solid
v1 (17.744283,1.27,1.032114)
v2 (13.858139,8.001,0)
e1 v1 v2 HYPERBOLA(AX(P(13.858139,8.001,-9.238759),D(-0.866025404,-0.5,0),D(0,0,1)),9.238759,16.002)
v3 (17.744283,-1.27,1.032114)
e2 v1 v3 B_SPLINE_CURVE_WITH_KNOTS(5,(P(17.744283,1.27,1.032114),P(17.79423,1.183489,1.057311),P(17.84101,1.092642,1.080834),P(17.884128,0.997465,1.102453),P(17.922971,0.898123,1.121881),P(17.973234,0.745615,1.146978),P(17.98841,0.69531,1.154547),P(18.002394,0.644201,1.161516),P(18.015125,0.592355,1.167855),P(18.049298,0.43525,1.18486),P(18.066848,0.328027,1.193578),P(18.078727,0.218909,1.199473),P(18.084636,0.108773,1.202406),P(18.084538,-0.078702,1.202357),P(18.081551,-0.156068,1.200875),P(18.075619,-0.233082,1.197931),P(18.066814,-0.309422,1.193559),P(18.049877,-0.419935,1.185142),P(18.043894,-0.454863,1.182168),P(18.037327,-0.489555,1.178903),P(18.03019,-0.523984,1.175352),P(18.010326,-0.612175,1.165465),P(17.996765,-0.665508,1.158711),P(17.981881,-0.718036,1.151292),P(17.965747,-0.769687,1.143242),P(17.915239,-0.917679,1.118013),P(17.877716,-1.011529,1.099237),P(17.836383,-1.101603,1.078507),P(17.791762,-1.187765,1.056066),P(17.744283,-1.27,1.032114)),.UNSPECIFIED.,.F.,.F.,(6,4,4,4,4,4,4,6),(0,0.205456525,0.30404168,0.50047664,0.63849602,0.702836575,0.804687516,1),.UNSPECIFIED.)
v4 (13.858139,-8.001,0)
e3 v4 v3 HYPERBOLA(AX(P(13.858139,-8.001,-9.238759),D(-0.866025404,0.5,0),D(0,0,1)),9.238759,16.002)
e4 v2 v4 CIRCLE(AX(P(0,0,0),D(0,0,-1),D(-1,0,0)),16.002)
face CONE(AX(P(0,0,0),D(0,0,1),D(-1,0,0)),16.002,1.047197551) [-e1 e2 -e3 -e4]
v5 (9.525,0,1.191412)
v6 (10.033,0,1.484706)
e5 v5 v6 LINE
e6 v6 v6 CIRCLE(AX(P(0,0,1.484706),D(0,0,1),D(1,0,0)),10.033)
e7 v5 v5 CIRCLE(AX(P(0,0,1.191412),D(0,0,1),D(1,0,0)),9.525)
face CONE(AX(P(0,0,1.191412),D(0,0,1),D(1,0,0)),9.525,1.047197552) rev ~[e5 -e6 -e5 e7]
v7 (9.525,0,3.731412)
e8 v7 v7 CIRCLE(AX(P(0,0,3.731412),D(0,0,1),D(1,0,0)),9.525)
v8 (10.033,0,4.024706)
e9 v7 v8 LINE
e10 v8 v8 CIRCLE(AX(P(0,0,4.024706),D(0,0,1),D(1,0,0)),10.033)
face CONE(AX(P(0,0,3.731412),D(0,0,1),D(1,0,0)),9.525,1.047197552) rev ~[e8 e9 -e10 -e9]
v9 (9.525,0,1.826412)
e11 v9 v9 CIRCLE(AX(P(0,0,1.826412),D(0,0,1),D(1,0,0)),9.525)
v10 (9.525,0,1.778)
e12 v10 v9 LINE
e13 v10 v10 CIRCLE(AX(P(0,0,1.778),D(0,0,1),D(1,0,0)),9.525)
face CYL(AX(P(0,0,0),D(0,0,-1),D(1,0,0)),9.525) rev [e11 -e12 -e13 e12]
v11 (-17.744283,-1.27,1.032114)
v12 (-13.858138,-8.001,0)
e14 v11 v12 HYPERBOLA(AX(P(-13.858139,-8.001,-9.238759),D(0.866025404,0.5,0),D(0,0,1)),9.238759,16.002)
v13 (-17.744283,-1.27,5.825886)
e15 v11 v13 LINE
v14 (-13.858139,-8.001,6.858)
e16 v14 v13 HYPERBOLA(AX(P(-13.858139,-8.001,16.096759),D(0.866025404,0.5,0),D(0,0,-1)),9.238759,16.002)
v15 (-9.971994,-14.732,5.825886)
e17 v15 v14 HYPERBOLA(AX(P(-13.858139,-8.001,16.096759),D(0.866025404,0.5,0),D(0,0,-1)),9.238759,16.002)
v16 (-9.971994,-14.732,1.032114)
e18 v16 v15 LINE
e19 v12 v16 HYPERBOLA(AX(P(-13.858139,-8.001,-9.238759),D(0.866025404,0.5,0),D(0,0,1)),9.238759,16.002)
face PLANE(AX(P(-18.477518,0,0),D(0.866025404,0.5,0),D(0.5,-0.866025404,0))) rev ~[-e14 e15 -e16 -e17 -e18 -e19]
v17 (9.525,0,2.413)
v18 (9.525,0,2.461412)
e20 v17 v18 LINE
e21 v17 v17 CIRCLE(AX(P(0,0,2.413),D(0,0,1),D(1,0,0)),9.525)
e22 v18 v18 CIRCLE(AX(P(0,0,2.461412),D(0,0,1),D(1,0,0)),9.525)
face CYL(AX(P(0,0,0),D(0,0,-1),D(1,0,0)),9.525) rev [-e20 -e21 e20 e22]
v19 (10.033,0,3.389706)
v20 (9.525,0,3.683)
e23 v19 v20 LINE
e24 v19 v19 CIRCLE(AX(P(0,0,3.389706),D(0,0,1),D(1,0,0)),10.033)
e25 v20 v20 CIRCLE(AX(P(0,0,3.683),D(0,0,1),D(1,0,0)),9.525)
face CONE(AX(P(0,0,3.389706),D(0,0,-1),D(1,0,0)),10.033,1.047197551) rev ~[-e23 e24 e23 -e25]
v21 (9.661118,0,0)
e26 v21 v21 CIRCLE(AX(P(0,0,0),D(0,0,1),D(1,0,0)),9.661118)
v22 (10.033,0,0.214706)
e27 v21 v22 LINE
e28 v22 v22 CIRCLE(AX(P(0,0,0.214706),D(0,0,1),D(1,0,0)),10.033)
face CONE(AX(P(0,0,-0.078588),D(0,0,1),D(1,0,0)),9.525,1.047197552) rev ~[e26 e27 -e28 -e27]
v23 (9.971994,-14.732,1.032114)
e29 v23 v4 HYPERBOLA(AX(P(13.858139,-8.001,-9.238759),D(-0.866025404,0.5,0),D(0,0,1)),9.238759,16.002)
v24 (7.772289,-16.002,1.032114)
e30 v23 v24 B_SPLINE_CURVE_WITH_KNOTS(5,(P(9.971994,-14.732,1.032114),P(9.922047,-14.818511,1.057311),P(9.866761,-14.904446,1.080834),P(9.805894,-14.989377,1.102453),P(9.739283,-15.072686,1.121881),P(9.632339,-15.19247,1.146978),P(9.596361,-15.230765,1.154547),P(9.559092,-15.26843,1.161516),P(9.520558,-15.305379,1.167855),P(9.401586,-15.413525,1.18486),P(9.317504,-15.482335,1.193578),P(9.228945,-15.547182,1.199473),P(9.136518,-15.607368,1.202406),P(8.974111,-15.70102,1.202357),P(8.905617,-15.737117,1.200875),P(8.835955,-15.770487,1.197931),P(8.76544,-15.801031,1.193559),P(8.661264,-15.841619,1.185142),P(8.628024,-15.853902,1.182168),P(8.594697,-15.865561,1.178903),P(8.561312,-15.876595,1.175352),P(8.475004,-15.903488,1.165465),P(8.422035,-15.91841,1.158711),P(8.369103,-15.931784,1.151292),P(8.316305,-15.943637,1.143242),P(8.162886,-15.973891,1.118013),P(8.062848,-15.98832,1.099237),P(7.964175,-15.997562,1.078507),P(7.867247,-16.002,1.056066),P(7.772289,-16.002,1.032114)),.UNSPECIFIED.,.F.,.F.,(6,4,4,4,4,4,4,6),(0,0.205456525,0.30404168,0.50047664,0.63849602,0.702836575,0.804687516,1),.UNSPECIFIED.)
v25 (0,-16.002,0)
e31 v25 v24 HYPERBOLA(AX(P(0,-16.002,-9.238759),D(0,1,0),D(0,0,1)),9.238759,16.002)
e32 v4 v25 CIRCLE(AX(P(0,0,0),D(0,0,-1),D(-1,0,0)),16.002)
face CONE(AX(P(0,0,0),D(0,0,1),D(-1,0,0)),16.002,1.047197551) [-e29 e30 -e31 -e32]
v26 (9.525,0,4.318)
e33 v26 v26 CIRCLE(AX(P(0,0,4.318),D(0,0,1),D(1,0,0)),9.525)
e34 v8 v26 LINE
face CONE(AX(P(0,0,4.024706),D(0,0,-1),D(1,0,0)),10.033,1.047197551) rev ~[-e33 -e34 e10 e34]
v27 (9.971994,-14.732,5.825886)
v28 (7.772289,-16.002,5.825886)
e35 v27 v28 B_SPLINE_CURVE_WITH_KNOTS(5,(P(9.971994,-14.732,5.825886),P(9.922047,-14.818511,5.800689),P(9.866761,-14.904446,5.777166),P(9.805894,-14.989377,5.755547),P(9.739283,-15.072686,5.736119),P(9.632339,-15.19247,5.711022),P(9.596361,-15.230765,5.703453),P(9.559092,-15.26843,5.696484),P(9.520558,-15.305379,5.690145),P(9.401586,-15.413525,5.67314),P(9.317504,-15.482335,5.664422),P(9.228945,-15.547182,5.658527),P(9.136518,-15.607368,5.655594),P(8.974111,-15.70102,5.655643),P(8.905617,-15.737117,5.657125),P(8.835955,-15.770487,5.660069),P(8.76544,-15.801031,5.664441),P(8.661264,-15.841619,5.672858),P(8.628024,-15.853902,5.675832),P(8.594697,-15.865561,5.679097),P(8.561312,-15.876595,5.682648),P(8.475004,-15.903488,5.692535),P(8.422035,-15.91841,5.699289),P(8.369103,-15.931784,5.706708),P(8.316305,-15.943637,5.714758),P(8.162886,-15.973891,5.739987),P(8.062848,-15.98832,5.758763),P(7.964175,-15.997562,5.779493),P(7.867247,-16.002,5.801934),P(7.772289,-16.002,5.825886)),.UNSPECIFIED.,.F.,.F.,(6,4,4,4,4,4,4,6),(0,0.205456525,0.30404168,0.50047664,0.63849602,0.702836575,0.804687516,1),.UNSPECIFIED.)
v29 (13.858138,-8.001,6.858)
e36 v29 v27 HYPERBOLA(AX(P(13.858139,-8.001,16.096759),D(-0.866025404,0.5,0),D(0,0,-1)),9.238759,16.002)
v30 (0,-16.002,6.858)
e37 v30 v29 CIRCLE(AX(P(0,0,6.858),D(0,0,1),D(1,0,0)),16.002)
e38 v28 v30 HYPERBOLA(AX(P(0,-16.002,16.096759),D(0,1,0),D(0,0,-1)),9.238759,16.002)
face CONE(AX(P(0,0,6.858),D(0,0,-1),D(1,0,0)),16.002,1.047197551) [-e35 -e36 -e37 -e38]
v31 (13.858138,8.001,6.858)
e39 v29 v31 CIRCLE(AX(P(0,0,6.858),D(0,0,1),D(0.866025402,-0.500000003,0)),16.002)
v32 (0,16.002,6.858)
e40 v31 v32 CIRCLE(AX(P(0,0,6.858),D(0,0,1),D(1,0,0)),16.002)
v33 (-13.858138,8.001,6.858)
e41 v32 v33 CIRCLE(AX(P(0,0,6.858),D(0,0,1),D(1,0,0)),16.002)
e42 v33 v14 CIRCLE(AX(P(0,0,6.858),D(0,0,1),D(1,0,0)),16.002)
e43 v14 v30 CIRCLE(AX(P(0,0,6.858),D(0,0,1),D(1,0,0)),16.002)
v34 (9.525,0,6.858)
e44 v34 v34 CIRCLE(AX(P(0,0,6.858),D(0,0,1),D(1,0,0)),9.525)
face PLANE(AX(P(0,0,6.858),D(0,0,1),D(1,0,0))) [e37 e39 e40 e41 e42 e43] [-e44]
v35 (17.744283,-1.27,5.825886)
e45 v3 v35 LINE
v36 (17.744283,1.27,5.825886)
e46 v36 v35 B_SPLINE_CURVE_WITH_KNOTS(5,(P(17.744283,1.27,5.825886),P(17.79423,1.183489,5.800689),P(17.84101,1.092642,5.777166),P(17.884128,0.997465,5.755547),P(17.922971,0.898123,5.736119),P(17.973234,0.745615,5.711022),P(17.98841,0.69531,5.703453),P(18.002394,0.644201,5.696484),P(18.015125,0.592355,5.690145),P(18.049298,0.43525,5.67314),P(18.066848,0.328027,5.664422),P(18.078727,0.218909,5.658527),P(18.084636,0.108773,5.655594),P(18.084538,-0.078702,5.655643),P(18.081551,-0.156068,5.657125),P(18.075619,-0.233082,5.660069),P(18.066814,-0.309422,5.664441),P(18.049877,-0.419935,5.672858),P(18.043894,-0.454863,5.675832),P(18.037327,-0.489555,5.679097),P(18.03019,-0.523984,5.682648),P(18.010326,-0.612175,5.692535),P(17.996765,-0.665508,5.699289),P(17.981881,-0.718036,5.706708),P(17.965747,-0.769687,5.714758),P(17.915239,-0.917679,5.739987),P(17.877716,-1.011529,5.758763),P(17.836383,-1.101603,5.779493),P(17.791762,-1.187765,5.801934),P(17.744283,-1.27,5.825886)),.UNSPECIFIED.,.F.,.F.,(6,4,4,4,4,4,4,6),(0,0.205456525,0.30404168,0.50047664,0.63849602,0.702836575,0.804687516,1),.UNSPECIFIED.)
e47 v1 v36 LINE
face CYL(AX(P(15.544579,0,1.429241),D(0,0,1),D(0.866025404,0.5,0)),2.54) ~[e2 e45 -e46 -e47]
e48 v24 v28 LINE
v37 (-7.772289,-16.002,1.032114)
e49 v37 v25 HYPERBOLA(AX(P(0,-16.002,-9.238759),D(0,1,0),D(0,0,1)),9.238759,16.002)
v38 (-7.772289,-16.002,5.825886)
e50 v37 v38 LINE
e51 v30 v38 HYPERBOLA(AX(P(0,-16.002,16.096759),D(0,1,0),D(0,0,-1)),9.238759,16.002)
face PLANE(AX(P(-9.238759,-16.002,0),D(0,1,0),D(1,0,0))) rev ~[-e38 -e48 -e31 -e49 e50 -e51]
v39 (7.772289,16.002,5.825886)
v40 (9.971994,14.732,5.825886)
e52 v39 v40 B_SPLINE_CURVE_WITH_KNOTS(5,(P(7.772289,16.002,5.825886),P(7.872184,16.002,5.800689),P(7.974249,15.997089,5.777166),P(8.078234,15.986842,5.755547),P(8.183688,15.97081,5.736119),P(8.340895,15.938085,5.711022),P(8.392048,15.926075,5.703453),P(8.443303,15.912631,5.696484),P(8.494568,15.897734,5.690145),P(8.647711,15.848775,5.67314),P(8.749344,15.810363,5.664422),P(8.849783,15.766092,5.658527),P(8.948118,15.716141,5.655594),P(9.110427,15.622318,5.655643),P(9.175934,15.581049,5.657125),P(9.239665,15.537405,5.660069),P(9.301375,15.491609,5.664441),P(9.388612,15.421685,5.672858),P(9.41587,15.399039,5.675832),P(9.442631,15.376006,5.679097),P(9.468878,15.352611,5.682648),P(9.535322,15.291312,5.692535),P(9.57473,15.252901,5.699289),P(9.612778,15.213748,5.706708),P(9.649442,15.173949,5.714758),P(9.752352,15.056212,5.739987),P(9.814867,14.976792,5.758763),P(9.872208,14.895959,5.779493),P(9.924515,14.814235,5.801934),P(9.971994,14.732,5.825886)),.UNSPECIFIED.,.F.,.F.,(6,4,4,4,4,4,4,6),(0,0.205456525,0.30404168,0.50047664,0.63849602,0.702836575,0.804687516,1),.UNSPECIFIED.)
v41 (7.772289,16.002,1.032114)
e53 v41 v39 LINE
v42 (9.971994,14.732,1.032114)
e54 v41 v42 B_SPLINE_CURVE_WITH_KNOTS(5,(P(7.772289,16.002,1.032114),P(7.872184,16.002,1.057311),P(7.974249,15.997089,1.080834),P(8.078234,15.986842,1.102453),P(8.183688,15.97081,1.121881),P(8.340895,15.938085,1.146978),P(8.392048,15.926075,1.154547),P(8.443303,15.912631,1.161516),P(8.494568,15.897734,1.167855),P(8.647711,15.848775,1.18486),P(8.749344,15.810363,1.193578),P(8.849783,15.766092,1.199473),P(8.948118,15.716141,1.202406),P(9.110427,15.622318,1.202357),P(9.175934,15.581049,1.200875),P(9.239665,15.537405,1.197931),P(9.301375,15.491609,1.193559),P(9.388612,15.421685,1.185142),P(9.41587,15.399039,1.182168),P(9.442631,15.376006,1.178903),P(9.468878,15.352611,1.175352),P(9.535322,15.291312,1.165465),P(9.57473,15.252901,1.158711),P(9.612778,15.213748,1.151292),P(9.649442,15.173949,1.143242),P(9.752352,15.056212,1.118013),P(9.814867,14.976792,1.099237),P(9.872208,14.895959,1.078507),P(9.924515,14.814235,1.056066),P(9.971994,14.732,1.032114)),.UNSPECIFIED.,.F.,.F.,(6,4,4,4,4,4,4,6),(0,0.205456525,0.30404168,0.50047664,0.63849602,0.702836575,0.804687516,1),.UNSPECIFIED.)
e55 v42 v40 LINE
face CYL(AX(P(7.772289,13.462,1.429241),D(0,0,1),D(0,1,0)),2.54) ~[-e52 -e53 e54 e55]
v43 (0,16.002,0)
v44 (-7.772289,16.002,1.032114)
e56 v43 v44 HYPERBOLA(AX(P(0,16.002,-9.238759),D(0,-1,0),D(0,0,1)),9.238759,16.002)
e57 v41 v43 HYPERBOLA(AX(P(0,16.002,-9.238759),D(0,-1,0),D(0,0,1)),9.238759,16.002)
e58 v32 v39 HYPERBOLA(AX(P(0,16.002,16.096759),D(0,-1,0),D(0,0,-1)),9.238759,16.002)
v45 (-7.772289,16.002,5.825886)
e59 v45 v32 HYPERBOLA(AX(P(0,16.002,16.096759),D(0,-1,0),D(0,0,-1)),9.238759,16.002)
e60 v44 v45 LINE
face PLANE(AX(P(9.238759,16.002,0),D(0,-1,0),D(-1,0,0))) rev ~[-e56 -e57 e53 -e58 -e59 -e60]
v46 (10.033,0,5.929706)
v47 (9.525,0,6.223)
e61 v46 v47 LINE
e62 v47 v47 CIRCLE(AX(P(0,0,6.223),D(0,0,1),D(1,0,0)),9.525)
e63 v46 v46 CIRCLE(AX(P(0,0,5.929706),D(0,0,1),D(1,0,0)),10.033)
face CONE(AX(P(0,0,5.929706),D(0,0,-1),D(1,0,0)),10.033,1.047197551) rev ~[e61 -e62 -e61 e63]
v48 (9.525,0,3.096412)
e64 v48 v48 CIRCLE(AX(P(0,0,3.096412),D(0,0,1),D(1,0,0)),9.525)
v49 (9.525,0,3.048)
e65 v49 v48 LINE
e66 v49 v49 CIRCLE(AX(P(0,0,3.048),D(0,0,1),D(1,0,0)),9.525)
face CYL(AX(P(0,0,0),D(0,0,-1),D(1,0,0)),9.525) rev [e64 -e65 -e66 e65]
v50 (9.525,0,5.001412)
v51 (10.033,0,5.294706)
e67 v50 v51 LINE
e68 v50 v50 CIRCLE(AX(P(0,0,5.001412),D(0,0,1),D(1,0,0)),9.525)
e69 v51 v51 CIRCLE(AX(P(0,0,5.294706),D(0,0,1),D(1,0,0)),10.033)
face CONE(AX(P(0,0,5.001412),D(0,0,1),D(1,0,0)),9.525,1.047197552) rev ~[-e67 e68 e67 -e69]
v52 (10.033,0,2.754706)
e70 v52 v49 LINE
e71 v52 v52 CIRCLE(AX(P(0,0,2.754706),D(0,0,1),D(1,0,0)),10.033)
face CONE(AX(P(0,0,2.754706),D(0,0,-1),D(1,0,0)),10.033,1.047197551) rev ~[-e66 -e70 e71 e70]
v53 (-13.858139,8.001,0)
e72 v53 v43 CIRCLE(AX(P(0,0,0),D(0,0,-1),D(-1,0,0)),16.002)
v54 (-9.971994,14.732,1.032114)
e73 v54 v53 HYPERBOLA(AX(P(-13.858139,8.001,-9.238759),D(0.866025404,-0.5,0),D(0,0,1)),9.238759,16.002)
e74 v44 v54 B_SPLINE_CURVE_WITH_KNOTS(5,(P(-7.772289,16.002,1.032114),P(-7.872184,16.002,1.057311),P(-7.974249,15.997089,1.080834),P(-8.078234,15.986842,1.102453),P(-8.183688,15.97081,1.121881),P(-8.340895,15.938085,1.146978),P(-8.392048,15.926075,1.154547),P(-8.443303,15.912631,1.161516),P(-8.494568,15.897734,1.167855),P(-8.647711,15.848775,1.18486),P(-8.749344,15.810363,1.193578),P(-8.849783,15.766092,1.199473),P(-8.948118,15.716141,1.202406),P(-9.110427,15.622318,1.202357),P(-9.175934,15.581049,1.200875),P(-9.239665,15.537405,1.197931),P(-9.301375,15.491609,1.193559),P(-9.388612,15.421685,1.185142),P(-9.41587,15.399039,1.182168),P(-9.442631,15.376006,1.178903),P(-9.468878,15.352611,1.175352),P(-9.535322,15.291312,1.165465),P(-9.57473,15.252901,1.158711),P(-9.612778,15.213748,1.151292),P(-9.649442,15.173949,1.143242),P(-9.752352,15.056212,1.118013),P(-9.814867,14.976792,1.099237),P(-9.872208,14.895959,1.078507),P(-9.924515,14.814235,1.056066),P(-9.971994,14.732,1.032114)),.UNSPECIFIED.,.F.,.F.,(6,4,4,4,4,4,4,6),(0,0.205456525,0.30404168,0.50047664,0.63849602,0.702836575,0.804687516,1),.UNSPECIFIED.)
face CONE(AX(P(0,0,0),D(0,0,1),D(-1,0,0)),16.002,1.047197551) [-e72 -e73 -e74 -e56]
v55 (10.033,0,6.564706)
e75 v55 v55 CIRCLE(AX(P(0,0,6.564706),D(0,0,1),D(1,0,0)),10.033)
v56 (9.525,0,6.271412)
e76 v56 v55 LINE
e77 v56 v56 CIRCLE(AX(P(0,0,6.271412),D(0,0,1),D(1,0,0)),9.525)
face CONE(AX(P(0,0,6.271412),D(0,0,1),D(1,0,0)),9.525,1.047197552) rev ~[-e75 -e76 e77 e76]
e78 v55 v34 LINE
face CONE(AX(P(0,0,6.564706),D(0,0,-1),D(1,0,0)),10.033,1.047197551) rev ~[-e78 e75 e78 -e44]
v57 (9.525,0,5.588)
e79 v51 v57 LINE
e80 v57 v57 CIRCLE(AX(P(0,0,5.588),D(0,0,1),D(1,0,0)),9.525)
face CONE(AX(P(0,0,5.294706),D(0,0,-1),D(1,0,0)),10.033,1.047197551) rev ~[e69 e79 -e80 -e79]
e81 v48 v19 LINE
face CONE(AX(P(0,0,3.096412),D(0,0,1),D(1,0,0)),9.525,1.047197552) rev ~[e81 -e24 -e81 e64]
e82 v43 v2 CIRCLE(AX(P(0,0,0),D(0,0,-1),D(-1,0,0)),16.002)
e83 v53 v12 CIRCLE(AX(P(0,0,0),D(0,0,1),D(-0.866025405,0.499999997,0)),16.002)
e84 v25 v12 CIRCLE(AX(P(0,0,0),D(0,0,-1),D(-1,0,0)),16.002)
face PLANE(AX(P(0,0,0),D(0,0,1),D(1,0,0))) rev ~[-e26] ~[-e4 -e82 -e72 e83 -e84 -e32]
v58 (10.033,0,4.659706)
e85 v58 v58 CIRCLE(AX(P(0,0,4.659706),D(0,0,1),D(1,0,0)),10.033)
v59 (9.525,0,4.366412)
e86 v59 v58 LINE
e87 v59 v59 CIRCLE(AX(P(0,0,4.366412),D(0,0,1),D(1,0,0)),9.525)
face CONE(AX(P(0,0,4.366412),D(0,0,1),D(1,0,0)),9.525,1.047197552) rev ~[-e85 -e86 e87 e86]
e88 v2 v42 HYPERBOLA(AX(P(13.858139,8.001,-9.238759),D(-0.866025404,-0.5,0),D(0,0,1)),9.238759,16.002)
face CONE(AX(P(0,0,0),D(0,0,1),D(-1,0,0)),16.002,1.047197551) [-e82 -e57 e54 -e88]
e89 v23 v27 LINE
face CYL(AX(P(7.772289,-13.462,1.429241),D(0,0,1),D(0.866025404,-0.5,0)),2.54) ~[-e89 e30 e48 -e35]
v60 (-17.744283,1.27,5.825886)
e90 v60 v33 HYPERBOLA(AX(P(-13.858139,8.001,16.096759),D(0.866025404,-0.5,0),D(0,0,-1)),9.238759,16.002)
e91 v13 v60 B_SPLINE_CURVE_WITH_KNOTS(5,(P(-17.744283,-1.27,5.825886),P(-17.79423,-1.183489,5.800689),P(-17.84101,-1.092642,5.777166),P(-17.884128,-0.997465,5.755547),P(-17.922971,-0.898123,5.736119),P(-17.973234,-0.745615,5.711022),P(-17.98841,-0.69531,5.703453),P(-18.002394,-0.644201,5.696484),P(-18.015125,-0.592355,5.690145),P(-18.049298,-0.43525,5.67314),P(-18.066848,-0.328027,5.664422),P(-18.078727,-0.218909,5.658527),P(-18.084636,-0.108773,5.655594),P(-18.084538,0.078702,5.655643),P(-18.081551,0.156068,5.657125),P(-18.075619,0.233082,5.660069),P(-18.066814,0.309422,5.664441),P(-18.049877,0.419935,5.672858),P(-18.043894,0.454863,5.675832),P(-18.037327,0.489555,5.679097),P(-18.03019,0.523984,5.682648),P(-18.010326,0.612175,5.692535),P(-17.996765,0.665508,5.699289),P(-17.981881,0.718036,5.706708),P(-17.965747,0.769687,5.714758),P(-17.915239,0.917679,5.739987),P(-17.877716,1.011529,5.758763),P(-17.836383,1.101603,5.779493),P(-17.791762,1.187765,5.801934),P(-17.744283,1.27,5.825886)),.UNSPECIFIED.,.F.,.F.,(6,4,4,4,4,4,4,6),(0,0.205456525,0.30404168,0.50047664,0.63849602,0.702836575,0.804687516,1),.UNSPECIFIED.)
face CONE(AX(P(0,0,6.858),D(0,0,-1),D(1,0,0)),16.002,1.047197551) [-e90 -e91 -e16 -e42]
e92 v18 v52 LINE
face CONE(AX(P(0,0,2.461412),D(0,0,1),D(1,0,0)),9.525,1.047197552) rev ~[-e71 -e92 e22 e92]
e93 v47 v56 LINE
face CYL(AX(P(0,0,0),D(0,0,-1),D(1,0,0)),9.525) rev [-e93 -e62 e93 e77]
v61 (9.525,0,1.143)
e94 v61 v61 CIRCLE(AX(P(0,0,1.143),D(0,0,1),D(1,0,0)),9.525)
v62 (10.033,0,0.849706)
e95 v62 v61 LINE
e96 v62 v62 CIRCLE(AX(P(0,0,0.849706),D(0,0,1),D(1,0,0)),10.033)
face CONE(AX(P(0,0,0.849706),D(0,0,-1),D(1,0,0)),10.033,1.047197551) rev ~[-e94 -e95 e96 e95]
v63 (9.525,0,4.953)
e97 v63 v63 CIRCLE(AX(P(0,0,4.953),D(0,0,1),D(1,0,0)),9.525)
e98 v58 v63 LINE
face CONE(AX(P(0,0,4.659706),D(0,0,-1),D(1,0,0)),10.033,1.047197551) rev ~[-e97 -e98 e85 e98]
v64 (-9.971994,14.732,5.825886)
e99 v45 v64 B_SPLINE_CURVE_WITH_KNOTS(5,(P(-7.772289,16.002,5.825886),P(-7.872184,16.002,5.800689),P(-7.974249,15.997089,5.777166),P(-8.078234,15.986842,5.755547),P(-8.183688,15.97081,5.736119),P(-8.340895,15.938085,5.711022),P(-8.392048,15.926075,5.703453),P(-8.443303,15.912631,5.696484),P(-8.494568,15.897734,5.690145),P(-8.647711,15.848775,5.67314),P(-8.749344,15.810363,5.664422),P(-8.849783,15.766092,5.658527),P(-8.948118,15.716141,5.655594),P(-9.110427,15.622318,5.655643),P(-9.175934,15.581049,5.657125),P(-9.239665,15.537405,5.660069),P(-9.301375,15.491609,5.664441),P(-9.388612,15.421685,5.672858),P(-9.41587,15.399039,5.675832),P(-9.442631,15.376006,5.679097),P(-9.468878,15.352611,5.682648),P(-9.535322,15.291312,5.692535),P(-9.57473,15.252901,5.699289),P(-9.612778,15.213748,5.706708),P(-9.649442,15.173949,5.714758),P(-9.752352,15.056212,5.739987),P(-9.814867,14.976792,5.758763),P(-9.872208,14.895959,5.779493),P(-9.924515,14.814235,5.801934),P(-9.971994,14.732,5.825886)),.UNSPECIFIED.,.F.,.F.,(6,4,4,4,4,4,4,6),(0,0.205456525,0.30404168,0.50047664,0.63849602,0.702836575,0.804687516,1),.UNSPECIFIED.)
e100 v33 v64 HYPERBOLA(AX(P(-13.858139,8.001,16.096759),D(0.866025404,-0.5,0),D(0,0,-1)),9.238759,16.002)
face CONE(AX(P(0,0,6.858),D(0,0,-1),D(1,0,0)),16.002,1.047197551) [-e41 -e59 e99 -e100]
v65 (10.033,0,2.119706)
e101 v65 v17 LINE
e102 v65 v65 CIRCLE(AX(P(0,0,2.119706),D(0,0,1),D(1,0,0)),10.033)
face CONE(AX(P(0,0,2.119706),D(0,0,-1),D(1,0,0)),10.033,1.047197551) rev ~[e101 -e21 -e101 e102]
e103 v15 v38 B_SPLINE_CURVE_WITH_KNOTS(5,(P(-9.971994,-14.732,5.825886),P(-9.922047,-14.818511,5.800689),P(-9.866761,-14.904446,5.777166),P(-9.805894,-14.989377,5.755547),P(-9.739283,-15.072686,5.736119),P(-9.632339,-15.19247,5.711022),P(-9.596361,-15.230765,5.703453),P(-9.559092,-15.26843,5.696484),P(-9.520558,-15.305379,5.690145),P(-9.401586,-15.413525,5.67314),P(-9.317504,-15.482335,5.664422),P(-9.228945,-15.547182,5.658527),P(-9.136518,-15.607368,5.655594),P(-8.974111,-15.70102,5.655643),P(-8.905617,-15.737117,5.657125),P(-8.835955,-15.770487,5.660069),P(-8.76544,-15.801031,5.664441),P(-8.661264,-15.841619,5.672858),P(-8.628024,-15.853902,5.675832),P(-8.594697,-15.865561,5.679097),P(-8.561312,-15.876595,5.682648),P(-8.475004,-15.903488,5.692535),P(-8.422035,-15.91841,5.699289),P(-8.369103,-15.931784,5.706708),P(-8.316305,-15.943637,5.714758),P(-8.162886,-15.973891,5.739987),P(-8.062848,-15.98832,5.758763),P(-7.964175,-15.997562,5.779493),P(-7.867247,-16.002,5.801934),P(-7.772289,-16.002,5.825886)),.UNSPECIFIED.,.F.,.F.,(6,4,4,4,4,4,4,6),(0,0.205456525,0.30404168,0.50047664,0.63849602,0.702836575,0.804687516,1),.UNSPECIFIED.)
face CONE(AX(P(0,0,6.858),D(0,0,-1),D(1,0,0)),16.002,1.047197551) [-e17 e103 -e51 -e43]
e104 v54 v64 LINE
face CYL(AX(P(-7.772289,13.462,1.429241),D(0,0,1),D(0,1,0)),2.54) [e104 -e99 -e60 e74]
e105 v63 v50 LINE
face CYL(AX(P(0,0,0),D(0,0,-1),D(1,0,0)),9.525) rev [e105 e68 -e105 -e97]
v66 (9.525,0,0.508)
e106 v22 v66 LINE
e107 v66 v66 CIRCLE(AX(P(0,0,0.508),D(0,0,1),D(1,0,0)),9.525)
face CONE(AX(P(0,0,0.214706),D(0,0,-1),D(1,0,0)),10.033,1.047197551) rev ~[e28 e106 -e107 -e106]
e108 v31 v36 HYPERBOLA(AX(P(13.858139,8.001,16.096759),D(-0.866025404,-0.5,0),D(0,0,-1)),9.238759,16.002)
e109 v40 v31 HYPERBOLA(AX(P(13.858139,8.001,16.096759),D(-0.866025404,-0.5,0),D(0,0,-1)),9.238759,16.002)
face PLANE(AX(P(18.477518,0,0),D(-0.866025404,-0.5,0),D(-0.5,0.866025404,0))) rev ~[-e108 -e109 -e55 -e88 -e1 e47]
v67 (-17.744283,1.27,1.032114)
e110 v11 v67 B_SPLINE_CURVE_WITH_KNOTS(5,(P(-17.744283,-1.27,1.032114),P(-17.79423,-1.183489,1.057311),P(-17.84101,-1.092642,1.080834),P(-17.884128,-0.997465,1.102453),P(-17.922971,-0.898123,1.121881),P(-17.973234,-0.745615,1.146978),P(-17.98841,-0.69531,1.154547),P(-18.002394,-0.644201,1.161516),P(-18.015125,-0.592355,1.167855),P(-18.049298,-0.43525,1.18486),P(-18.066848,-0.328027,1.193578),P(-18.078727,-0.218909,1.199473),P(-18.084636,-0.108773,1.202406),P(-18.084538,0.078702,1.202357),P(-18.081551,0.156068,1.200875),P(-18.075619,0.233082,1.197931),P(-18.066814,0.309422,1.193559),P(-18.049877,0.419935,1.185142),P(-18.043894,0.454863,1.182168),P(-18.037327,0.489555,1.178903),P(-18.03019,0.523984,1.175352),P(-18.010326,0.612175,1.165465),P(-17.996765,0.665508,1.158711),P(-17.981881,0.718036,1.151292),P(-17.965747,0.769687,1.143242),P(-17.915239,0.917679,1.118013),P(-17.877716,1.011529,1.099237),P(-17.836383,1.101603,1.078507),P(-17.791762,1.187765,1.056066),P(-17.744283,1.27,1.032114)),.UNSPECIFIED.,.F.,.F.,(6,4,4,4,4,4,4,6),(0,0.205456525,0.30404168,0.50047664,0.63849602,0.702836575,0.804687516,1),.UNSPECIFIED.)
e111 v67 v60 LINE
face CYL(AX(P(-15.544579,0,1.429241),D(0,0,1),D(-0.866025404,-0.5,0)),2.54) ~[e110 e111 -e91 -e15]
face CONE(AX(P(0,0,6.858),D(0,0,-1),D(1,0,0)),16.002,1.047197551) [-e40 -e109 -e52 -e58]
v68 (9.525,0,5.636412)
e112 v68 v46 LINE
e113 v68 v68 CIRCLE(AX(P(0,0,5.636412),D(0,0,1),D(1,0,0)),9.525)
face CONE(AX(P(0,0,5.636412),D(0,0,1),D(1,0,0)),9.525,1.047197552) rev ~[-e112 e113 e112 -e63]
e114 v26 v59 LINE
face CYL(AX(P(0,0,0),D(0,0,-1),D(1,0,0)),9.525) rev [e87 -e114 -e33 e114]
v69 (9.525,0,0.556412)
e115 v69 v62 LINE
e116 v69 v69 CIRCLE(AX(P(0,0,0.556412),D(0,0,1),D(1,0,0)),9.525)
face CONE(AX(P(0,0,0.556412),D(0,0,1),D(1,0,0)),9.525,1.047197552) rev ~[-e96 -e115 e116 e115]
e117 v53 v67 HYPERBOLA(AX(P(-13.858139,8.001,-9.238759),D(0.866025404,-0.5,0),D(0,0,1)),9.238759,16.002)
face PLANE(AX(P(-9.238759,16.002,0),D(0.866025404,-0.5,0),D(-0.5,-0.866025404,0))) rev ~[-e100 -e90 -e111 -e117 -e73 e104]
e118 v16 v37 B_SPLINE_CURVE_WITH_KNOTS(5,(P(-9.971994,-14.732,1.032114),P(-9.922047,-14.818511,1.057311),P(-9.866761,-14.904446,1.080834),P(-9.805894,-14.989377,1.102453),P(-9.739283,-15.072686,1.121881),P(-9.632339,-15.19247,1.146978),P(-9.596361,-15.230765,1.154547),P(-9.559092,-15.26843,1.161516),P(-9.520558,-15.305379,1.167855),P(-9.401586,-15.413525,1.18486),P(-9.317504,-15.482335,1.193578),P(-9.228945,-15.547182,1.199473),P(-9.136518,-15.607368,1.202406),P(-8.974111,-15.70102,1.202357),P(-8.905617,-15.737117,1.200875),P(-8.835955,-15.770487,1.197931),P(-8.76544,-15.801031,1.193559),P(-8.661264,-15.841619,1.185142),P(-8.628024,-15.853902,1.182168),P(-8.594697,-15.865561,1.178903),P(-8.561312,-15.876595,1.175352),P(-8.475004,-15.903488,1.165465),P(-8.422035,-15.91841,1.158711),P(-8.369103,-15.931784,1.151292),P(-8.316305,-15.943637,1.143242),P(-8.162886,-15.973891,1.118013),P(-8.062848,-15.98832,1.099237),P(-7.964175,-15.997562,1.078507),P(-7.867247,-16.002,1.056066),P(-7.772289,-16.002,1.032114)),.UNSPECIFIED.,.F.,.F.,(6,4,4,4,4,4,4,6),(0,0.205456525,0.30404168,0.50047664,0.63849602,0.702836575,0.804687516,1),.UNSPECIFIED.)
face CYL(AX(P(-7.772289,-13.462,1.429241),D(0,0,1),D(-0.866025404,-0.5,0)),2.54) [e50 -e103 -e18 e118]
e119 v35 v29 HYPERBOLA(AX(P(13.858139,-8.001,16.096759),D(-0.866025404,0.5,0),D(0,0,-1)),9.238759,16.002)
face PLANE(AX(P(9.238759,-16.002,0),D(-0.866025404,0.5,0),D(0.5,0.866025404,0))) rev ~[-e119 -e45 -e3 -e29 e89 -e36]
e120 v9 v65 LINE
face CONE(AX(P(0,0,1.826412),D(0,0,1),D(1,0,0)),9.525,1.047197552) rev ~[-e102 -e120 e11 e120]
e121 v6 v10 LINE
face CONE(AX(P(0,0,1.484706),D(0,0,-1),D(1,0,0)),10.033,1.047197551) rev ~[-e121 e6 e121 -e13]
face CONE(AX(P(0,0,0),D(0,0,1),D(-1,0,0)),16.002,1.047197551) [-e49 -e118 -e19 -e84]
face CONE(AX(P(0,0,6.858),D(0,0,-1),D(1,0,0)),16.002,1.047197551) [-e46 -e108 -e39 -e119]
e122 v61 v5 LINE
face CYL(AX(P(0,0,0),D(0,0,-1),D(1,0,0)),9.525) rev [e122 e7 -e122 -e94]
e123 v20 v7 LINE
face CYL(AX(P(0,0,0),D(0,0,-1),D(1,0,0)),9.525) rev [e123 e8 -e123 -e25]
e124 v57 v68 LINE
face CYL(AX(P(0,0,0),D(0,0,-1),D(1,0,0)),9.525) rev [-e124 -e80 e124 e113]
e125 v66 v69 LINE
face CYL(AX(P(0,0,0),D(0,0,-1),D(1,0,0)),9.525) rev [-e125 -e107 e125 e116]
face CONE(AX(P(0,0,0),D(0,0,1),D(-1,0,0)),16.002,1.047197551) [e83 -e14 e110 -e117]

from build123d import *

# Parameters (mm, degrees)
SKETCH1_R          = 9.525
EXTRUDE1_DEPTH     = 6.858
SKETCH2_OUTSIDE_W  = 76.05
SKETCH2_OUTSIDE_H  = 71.098
SKETCH2_OUTSIDE_R  = 16.002
CUT_EXTRUDE1_DEPTH = 7.858
CUT_EXTRUDE1_DRAFT = -60
SKETCH3_OUTSIDE_W  = 76.05
SKETCH3_OUTSIDE_H  = 71.098
SKETCH3_OUTSIDE_R  = 16.002
CUT_EXTRUDE2_DEPTH = 7.858
CUT_EXTRUDE2_DRAFT = -60
FILLET1_R          = 2.54
LPATTERN1_COUNT    = 11
LPATTERN1_PITCH    = 0.635


with BuildPart() as part:
    # Sketch1 → Extrude1 (new body)
    with BuildSketch(Plane.XY):
        Polygon((-18.477518015, 0), (-9.238759008, -16.002), (9.238759008, -16.002), (18.477518015, 0), (9.238759008, 16.002), (-9.238759008, 16.002), align=None)
        Circle(SKETCH1_R, mode=Mode.SUBTRACT)
    extrude(amount=EXTRUDE1_DEPTH)


with BuildPart() as cut_extrude1_tool:
    # Sketch2 outside → Cut-Extrude1 (with draft: the straight prism first)
    with BuildSketch(Plane.XY.offset(6.858)):
        Rectangle(SKETCH2_OUTSIDE_W, SKETCH2_OUTSIDE_H)
        Circle(SKETCH2_OUTSIDE_R, mode=Mode.SUBTRACT)
    extrude(amount=-CUT_EXTRUDE1_DEPTH)
    # Cut-Extrude1: the draft: its side faces are tilted about the plane it starts from
    cut_extrude1_sides = [cut_extrude1_tool.faces().sort_by_distance(p)[0] for p in [
        (0, -35.549, 2.929),
        (38.025, 0, 2.929),
        (0, 35.549, 2.929),
        (-38.025, 0, 2.929),
        (-16.002, 0, 2.929),
    ]]
    draft(cut_extrude1_sides, Plane.XY.offset(6.858), CUT_EXTRUDE1_DRAFT)


with BuildPart() as part_1:
    add(part.part)

    # Cut-Extrude1: cut by cut_extrude1_tool
    add(cut_extrude1_tool.part, mode=Mode.SUBTRACT)


with BuildPart() as cut_extrude2_tool:
    # Sketch3 outside → Cut-Extrude2 (with draft: the straight prism first)
    with BuildSketch(Plane(origin=(0, 0, 0), x_dir=(-1, 0, 0), z_dir=(0, 0, -1))):
        Rectangle(SKETCH3_OUTSIDE_W, SKETCH3_OUTSIDE_H)
        Circle(SKETCH3_OUTSIDE_R, mode=Mode.SUBTRACT)
    extrude(amount=-CUT_EXTRUDE2_DEPTH)
    # Cut-Extrude2: the draft: its side faces are tilted about the plane it starts from
    cut_extrude2_sides = [cut_extrude2_tool.faces().sort_by_distance(p)[0] for p in [
        (0, -35.549, 3.929),
        (-38.025, 0, 3.929),
        (0, 35.549, 3.929),
        (38.025, 0, 3.929),
        (16.002, 0, 3.929),
    ]]
    draft(cut_extrude2_sides, Plane(origin=(0, 0, 0), x_dir=(-1, 0, 0), z_dir=(0, 0, -1)), CUT_EXTRUDE2_DRAFT)


with BuildPart() as part_2:
    add(part_1.part)

    # Cut-Extrude2: cut by cut_extrude2_tool
    add(cut_extrude2_tool.part, mode=Mode.SUBTRACT)

    # Fillet1
    fillet1_edges = [part_2.edges().sort_by_distance(p)[0] for p in [
        (18.477518015, 0, 3.429),
        (9.238759008, -16.002, 3.429),
        (-9.238759008, -16.002, 3.429),
        (-18.477518015, 0, 3.429),
        (-9.238759008, 16.002, 3.429),
        (9.238759008, 16.002, 3.429),
    ]]
    fillet(fillet1_edges, radius=FILLET1_R)

    # Sketch4 → Cut-Revolve1 (revolve, cut)
    with BuildSketch(Plane(origin=(0, 0, 0), x_dir=(1, 0, 0), z_dir=(0, 1, 0)), mode=Mode.PRIVATE) as cut_revolve1_sk:
        Polygon((-9.525, -6.858), (-9.525, -6.271412127), (-10.033, -6.564706063), align=None)
    cut_revolve1 = revolve(cut_revolve1_sk.sketch.rotate(Axis((0, 0, 0), (0, 0, 1)), 180), axis=Axis((0, 0, 0), (0, 0, 1)), mode=Mode.SUBTRACT)  # turned: the seam where the file's is

    # LPattern1: Cut-Revolve1 ×11
    with Locations(*[(0, 0, -i * LPATTERN1_PITCH) for i in range(1, LPATTERN1_COUNT)]):
        add(cut_revolve1, mode=Mode.SUBTRACT)


solid = part_2.part
